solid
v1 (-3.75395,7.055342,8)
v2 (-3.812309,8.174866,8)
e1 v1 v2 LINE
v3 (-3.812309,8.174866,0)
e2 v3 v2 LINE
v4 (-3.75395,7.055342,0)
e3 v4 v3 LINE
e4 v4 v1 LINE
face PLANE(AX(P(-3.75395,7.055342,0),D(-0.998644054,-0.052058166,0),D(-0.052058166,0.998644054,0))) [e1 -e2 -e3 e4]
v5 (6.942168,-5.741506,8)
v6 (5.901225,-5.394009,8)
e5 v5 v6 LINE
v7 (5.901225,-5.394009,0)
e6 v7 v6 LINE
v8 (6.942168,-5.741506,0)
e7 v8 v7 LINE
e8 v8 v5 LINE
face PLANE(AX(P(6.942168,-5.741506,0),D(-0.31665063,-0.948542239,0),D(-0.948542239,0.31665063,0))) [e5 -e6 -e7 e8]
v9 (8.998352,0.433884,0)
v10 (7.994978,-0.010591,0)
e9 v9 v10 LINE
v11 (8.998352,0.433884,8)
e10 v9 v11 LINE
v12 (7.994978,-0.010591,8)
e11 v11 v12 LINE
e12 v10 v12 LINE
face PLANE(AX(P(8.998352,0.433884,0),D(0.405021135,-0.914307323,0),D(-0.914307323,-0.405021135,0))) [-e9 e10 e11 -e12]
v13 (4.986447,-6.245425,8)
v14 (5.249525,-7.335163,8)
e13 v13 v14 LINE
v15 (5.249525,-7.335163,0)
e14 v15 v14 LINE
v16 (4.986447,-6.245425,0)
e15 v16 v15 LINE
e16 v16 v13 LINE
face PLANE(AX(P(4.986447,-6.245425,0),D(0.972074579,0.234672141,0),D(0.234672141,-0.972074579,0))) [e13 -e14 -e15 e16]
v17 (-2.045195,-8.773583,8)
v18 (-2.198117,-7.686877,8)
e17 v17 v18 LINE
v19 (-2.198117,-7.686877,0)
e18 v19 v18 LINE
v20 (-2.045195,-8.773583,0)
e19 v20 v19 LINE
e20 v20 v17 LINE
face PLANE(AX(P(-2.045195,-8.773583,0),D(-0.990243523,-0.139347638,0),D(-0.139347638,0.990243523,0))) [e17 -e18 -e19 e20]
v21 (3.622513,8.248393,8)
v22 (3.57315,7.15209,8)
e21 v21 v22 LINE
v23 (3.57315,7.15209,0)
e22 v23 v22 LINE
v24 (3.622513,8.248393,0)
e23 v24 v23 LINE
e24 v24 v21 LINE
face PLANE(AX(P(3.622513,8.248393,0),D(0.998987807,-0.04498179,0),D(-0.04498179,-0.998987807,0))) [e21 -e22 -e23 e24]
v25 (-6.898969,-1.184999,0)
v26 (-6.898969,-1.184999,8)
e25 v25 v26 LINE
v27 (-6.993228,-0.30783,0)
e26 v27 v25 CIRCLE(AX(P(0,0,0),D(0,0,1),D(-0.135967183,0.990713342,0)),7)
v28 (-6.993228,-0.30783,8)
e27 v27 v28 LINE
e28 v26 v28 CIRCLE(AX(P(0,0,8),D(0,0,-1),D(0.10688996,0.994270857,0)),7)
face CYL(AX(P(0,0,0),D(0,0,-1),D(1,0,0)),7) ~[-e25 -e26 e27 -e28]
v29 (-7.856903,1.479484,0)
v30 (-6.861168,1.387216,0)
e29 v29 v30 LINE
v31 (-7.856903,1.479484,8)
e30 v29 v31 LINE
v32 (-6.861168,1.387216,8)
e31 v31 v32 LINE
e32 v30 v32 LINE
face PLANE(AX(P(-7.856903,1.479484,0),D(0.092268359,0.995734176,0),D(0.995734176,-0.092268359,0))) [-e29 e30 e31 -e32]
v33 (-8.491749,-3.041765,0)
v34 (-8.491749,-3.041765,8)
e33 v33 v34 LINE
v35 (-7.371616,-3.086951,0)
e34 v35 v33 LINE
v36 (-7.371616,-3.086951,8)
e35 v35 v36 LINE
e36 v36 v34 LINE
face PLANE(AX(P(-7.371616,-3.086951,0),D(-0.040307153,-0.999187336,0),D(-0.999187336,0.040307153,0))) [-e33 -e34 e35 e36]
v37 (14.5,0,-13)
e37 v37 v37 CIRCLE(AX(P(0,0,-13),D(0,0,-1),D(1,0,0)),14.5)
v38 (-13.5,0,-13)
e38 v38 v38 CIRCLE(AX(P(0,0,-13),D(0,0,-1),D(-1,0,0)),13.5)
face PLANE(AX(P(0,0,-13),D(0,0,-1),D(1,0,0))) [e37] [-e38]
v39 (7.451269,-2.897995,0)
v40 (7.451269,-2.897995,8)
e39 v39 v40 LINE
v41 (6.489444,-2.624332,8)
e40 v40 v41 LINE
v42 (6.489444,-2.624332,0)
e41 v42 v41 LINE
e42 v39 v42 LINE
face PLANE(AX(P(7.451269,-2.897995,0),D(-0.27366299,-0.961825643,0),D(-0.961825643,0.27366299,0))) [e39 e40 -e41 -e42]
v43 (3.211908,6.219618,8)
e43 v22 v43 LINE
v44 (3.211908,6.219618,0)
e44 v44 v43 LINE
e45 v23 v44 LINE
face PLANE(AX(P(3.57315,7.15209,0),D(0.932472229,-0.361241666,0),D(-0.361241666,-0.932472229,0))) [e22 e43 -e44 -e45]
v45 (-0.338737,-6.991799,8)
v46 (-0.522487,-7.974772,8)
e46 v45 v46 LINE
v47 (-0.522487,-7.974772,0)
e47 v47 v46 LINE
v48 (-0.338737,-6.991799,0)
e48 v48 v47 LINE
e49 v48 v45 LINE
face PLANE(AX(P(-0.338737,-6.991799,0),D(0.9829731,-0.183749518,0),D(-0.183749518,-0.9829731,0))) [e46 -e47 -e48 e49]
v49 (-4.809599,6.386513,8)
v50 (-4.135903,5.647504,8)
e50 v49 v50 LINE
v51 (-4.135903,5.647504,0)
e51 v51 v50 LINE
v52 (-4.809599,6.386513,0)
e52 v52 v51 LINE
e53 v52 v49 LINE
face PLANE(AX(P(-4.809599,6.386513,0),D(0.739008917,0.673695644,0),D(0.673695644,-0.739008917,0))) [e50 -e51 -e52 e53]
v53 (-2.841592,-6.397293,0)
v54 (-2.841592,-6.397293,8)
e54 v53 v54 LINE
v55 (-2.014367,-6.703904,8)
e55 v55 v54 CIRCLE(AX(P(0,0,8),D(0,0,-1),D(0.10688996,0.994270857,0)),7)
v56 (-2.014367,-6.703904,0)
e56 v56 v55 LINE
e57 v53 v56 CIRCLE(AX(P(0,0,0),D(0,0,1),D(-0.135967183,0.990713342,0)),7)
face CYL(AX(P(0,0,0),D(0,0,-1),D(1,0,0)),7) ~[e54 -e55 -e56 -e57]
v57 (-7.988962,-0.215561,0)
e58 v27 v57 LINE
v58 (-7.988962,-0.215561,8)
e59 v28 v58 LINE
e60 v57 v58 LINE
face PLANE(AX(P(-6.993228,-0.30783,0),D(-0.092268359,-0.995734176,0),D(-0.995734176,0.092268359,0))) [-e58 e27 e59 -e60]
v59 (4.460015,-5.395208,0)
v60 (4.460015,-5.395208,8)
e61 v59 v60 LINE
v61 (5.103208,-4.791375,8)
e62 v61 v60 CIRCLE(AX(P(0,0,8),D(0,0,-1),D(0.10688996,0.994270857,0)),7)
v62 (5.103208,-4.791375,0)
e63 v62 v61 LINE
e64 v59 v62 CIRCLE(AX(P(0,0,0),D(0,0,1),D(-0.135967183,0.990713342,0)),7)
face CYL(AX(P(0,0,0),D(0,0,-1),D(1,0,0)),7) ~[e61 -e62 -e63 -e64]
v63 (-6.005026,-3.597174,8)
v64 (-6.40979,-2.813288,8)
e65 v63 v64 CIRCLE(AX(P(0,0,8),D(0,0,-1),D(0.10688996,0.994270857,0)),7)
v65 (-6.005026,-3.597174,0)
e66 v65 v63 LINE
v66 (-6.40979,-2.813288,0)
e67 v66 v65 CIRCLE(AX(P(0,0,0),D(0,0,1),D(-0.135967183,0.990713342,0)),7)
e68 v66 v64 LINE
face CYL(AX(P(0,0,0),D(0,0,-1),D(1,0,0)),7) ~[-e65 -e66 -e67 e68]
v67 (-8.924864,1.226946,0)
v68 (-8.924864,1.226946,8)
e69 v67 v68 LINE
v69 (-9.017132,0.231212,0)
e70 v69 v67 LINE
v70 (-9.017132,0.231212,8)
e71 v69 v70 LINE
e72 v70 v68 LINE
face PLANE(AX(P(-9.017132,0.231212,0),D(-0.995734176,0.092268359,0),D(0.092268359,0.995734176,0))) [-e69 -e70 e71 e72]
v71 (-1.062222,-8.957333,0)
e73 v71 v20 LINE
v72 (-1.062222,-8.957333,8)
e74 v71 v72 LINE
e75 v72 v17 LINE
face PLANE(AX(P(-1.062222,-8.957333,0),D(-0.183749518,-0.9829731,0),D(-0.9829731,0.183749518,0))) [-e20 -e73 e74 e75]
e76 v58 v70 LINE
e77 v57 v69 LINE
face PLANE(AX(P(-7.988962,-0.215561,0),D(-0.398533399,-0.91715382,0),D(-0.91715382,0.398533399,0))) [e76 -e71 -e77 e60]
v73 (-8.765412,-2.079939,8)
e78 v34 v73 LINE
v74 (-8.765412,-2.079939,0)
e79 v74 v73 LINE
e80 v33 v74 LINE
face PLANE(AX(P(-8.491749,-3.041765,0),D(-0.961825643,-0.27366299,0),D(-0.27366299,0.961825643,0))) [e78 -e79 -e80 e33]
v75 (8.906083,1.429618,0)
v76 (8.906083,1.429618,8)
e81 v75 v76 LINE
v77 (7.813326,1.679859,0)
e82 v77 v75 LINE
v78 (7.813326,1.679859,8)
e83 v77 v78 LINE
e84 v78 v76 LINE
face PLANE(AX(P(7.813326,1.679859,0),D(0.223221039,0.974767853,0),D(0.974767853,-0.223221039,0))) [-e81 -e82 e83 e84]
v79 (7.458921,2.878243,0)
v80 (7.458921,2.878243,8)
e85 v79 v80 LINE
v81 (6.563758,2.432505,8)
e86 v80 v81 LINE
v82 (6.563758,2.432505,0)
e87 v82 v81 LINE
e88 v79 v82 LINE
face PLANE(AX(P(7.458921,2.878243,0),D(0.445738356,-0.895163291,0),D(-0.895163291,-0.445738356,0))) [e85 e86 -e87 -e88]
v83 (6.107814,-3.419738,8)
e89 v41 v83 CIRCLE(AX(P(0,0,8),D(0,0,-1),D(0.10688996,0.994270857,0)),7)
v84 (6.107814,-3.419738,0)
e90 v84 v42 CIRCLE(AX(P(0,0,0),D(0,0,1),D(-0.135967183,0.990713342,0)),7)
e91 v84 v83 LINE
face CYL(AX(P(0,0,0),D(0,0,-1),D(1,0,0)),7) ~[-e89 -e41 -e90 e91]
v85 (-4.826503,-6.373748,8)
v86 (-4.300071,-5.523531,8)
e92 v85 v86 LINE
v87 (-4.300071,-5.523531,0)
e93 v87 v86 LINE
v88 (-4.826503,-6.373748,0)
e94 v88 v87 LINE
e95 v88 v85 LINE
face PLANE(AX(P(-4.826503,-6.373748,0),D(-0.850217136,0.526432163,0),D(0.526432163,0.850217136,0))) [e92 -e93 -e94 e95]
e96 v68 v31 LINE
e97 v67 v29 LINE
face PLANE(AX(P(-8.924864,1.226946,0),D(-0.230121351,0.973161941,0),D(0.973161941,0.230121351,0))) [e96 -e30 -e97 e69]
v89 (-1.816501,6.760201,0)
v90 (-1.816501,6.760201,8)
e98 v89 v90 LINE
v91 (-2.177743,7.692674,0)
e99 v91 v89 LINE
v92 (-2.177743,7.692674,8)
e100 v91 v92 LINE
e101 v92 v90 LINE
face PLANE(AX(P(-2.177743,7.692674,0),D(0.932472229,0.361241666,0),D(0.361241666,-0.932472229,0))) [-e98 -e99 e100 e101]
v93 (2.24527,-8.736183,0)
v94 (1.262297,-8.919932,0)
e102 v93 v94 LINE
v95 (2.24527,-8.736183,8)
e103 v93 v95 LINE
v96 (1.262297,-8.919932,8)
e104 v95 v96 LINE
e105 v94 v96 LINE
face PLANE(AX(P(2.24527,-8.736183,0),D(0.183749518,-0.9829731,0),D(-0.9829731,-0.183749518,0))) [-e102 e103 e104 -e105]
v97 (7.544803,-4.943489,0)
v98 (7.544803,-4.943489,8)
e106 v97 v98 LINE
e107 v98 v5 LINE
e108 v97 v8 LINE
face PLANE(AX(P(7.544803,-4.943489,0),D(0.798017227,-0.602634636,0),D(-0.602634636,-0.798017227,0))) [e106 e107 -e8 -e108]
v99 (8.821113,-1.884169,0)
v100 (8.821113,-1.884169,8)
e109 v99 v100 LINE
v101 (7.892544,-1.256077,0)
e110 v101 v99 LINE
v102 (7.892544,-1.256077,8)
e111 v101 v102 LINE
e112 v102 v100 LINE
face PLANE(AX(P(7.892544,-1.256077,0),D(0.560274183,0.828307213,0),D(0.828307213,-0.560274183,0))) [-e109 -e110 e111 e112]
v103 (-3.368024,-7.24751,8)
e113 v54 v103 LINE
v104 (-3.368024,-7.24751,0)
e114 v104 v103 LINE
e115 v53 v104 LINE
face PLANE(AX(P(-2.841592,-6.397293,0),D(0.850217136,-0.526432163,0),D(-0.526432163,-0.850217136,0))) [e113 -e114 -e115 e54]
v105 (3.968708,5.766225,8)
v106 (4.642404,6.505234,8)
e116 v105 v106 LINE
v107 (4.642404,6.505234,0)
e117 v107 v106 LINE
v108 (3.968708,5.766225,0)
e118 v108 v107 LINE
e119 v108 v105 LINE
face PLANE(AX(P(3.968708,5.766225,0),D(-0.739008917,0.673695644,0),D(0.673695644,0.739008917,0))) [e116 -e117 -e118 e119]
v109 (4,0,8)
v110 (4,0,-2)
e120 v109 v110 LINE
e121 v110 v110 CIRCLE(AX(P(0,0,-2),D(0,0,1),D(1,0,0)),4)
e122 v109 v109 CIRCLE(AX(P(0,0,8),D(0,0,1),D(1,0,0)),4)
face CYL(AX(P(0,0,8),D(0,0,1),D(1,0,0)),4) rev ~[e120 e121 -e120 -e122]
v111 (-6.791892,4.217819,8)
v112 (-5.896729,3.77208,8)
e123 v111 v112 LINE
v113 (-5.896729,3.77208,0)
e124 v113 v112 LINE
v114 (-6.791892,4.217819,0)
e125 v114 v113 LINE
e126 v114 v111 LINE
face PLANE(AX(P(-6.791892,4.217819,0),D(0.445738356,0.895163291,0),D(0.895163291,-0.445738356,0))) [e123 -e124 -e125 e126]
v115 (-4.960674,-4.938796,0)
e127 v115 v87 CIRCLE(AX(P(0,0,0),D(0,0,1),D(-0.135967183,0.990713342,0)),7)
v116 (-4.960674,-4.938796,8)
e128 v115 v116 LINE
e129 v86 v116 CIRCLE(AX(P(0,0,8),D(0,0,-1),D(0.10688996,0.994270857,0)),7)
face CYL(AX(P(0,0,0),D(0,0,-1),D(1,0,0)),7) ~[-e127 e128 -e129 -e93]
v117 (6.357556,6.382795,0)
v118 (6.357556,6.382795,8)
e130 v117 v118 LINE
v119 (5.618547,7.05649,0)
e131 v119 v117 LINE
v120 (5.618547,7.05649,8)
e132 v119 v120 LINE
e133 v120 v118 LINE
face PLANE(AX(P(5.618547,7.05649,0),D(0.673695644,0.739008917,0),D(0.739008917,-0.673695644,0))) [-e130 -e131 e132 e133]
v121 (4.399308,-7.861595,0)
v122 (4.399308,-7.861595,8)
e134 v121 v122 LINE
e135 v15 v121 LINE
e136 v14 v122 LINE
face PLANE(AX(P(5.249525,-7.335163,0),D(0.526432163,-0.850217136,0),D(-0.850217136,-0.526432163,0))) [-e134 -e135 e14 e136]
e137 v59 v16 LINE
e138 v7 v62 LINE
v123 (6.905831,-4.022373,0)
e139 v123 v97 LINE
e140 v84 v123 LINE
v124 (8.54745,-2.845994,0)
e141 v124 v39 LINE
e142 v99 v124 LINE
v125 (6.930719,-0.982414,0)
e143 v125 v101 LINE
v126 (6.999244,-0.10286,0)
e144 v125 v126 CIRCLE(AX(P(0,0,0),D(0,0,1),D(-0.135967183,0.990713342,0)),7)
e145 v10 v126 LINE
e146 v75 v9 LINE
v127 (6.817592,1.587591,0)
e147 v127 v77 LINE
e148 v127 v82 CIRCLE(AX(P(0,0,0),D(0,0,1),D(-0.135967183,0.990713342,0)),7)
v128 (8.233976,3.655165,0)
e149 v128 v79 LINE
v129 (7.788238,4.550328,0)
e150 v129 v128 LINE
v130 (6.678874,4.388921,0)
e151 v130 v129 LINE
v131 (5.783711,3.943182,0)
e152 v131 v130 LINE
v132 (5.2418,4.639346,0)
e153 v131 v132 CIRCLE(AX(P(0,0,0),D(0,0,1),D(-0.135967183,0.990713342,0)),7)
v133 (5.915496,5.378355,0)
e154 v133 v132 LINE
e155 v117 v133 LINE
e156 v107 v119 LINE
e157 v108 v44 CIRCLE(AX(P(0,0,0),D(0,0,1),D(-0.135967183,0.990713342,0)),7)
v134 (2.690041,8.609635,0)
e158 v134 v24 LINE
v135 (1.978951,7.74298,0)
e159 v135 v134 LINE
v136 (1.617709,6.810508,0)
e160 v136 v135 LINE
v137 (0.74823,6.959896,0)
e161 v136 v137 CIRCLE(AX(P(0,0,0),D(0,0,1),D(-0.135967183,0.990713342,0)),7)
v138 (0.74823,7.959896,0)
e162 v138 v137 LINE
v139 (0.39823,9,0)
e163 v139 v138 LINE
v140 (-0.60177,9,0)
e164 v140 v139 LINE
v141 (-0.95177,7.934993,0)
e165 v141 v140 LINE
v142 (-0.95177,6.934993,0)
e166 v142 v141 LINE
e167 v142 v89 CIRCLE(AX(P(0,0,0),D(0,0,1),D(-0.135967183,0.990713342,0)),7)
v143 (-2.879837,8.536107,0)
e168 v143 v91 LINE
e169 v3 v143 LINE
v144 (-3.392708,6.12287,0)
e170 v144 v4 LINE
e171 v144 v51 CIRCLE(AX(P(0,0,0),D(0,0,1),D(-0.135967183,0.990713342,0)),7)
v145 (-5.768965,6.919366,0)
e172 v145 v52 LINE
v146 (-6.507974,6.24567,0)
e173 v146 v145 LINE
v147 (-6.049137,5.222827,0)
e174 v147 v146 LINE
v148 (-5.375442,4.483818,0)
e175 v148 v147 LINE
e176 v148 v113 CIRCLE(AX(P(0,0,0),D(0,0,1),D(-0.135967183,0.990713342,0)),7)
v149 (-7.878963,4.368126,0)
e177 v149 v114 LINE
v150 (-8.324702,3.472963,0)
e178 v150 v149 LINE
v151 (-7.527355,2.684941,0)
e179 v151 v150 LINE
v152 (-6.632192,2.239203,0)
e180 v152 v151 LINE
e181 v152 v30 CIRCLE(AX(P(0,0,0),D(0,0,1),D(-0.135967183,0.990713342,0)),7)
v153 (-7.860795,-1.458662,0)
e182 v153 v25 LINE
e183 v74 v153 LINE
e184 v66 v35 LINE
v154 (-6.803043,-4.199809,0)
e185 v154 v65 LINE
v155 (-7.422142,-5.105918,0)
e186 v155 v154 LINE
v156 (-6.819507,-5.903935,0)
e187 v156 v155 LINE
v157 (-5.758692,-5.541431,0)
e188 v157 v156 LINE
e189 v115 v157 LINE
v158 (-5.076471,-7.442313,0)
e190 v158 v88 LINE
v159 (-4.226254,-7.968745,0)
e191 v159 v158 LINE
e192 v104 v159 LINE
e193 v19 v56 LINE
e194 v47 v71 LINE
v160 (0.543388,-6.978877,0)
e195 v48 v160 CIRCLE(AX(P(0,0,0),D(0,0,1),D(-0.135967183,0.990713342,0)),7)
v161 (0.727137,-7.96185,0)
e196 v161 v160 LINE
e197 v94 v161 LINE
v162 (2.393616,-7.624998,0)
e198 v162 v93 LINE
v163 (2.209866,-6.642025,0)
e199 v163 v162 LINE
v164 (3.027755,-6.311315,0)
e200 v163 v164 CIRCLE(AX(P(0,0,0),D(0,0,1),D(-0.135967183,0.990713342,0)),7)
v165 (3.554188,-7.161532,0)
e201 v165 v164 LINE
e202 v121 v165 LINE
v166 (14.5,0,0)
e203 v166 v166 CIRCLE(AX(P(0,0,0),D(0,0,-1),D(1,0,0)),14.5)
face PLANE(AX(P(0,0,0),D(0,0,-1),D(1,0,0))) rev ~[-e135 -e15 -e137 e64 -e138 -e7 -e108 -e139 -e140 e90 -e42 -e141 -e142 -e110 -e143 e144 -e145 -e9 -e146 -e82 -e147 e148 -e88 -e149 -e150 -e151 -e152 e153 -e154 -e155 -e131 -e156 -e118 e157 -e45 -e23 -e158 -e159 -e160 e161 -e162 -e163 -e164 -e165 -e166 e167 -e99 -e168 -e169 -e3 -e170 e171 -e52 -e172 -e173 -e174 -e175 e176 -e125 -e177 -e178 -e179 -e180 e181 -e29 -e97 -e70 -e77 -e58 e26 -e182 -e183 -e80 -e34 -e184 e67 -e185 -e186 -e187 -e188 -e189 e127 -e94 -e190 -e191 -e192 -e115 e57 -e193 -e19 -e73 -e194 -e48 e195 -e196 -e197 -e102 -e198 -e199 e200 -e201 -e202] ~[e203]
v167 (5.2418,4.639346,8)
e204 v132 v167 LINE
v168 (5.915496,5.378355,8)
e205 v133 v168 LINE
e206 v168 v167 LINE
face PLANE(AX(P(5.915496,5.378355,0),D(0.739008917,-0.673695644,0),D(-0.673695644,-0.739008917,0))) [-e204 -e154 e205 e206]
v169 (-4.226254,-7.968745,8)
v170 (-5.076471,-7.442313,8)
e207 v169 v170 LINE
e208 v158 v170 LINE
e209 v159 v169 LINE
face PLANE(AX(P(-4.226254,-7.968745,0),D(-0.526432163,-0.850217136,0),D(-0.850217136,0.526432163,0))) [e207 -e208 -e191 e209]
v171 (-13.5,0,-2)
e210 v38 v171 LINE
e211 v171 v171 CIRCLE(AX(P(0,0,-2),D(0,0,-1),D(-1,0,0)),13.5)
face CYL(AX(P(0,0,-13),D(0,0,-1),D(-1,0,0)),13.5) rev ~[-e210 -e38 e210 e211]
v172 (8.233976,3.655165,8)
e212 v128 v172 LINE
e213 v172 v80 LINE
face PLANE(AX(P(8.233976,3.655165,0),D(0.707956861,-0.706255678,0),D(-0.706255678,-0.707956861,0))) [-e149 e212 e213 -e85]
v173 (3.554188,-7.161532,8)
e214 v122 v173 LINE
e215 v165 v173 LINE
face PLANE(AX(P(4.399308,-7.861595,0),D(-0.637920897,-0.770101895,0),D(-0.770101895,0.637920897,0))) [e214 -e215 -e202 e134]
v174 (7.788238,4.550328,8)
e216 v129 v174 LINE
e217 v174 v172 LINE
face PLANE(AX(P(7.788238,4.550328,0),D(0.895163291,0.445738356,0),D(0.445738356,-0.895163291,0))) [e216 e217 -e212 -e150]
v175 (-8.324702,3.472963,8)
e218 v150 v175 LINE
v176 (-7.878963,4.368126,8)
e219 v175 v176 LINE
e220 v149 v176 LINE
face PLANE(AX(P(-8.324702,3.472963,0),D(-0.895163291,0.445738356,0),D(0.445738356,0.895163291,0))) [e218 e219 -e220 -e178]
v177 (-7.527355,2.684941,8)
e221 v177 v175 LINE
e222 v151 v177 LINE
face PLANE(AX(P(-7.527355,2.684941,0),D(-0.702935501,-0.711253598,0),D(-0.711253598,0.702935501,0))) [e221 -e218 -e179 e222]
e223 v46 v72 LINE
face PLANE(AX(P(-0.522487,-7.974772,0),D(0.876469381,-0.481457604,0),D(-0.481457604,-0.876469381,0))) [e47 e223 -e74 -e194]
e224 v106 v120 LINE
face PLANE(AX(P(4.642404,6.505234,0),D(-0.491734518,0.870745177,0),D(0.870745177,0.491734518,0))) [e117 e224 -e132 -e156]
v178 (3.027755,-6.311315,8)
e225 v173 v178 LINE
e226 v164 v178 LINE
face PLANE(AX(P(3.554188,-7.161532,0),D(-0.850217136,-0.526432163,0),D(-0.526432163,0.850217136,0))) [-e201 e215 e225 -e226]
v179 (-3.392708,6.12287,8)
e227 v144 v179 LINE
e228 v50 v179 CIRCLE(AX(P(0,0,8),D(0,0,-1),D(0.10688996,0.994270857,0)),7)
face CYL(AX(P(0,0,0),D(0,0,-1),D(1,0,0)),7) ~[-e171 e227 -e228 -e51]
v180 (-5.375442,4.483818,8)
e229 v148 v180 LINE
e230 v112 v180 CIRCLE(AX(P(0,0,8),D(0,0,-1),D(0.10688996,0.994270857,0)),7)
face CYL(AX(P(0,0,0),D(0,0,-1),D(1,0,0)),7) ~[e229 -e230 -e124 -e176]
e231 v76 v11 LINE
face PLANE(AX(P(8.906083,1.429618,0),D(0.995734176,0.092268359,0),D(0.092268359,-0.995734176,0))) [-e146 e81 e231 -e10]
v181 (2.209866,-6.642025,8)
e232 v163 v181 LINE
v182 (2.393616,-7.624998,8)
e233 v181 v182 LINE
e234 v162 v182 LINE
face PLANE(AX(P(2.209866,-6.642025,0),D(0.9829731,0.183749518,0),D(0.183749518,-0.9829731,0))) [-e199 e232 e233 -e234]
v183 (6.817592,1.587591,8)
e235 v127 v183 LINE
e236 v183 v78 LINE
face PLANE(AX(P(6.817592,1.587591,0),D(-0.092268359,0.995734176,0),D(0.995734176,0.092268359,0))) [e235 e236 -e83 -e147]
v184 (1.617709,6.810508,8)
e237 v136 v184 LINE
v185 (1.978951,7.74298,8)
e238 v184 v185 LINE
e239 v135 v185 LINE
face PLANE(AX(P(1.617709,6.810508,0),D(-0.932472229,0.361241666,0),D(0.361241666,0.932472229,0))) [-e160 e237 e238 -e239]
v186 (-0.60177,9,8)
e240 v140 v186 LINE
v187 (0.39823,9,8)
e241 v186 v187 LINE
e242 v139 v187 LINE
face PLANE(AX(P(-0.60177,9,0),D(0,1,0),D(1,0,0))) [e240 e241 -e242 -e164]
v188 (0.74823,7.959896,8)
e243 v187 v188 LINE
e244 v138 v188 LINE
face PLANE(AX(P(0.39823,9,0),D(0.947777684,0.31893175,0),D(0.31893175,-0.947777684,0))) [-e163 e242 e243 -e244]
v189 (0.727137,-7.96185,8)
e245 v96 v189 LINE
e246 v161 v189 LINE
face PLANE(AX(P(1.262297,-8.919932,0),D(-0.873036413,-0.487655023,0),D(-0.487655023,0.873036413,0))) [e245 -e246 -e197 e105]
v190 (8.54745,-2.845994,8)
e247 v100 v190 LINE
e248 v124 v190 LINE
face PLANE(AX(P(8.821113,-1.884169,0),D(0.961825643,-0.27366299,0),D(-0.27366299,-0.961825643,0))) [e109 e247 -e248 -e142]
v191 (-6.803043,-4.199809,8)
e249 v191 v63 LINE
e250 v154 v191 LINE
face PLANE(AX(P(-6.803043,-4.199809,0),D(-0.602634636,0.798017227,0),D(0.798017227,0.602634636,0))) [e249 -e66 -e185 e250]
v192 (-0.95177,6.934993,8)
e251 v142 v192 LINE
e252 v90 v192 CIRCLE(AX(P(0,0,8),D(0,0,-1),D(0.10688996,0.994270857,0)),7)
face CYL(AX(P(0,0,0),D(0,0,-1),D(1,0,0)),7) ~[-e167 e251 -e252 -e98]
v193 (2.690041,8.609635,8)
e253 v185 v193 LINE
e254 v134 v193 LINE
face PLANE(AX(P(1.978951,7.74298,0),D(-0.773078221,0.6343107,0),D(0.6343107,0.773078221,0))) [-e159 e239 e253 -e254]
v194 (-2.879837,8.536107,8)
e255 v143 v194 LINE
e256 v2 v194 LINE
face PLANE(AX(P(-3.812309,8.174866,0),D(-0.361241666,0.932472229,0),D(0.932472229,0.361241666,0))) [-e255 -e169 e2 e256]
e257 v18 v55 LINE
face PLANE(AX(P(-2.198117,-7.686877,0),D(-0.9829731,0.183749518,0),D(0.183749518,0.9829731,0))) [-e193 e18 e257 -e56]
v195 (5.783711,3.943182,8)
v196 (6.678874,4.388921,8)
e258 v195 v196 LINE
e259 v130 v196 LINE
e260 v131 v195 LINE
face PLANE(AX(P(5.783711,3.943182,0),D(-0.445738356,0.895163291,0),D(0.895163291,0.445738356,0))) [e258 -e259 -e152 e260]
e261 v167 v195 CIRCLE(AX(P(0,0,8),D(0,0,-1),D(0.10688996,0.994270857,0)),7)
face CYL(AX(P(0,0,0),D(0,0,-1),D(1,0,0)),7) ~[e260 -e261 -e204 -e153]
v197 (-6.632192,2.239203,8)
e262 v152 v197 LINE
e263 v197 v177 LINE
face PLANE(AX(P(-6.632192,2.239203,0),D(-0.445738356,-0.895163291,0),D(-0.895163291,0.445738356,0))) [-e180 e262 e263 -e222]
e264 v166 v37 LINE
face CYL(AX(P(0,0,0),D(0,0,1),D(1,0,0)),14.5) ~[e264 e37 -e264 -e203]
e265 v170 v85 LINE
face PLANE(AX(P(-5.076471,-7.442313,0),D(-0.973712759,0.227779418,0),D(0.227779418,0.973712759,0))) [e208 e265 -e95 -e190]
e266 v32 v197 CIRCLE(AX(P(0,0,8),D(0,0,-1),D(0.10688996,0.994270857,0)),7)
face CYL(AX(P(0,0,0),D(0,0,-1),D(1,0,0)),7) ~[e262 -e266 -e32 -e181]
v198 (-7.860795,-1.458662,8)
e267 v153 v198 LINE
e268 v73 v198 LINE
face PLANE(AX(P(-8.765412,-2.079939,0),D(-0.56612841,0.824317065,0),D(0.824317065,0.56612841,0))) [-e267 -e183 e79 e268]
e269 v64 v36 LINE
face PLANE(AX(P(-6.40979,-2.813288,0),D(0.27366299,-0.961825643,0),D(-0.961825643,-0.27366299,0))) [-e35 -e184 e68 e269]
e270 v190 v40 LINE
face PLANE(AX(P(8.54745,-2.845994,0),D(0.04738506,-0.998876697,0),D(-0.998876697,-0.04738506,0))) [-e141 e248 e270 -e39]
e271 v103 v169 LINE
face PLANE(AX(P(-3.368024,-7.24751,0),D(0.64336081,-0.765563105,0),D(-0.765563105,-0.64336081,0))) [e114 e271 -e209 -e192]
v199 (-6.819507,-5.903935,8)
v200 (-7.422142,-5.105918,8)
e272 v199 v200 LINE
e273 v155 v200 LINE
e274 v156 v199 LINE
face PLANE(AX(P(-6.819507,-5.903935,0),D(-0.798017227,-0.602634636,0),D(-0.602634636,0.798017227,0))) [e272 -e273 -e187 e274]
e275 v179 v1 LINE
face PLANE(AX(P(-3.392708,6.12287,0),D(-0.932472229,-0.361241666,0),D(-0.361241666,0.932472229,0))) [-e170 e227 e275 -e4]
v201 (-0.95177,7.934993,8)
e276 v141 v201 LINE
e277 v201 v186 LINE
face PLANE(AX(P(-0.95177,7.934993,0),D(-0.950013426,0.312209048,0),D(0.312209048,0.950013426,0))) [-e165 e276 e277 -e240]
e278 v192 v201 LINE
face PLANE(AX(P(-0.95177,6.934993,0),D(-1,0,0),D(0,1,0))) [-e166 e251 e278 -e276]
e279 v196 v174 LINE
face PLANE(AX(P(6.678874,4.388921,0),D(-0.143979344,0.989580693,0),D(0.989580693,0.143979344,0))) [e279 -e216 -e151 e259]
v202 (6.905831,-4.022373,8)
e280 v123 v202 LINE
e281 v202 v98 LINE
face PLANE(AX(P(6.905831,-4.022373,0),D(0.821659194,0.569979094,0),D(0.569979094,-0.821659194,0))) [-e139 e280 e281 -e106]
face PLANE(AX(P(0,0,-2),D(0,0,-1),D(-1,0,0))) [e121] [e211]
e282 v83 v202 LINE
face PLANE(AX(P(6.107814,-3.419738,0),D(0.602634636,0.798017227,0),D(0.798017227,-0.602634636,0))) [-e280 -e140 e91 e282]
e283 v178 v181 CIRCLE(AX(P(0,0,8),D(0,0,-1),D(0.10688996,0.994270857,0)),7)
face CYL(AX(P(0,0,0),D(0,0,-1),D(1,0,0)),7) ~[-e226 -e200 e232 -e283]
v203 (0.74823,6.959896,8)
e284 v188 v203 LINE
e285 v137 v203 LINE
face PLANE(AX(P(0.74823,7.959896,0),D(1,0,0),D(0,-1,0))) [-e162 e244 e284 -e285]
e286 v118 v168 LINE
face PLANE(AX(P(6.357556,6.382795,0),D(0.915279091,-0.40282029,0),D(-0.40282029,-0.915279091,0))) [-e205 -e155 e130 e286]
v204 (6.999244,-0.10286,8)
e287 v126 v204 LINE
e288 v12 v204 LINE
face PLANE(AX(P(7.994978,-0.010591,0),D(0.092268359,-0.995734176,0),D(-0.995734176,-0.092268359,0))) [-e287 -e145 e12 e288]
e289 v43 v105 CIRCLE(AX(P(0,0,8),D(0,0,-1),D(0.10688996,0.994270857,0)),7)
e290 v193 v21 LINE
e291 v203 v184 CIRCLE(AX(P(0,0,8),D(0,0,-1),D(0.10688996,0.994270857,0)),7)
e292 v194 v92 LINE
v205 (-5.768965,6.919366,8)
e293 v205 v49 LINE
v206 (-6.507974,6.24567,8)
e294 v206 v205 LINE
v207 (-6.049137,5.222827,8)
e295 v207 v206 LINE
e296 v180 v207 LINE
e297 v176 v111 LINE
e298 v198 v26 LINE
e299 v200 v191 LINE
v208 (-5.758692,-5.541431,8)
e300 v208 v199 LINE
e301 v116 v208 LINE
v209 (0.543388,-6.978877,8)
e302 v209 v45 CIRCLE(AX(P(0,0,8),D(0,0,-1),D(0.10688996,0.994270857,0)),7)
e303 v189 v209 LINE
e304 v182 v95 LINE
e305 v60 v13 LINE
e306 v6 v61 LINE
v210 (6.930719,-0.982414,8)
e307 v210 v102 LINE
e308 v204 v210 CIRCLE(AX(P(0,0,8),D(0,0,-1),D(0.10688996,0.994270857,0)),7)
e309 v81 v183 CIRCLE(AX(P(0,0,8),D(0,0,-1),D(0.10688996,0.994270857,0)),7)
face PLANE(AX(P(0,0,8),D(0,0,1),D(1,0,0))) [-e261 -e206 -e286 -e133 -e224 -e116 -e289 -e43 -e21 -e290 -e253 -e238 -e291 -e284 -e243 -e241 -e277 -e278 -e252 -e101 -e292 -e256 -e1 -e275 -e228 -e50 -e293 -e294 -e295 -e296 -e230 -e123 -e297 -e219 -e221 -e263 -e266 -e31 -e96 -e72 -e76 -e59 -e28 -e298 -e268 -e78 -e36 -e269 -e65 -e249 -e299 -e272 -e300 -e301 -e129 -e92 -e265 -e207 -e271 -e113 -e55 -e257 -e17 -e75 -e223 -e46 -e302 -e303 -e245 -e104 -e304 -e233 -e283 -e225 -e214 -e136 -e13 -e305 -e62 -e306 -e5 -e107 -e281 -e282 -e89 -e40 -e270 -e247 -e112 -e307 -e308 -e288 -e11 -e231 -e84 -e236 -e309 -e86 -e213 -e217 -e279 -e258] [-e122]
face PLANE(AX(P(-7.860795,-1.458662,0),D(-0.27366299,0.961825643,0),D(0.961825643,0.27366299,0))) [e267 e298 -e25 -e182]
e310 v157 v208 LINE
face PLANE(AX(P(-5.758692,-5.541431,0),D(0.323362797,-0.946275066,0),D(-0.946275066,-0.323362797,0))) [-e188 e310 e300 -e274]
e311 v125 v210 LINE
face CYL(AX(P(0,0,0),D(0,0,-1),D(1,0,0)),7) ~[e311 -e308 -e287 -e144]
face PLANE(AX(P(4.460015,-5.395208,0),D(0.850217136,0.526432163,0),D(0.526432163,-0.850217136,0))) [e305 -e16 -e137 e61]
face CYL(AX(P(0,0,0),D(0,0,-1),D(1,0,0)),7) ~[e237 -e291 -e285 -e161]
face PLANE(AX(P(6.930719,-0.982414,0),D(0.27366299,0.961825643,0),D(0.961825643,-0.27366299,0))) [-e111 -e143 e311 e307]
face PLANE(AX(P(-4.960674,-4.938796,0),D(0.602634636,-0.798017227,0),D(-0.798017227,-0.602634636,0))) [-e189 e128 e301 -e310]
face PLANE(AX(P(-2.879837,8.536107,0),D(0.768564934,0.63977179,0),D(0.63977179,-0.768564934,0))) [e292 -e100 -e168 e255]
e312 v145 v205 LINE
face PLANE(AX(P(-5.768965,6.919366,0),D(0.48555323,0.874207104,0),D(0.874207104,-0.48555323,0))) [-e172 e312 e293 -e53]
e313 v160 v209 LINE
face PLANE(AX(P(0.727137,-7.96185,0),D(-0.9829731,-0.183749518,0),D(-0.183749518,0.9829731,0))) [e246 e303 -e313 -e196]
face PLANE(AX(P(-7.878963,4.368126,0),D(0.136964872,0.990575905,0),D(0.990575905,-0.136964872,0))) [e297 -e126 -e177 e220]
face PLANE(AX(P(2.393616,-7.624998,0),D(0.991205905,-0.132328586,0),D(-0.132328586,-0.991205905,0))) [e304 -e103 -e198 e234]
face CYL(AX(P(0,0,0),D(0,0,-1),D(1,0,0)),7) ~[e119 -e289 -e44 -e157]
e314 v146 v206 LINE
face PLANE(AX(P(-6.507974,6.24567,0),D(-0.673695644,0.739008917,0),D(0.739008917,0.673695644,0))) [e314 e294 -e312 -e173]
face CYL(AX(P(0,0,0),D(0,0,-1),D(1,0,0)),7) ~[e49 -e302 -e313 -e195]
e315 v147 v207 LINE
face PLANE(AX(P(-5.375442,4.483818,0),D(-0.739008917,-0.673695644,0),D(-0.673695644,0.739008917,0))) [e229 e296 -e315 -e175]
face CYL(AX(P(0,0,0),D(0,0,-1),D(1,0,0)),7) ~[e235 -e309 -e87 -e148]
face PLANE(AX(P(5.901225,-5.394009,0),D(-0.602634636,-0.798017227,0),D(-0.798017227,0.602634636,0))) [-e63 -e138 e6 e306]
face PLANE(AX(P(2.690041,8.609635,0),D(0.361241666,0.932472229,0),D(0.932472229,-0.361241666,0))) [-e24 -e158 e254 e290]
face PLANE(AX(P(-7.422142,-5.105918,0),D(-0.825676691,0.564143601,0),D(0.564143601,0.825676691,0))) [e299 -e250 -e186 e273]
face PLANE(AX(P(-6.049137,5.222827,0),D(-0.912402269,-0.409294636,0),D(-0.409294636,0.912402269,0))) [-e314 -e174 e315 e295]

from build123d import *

# Parameters (mm, degrees)
SKETCH2_R           = 7
BOSS_EXTRUDE1_DEPTH = 8
BOSS_EXTRUDE2_DEPTH = 8
CIRPATTERN1_COUNT   = 17
SKETCH5_R           = 14.5
BOSS_EXTRUDE3_DEPTH = 13
SKETCH6_R           = 13.5
CUT_EXTRUDE1_DEPTH  = 11
SKETCH7_R           = 4
CUT_EXTRUDE2_DEPTH  = 11


with BuildPart() as part:
    # Sketch2 → Boss-Extrude1 (new body)
    with BuildSketch(Plane.XY):
        Circle(SKETCH2_R)
    extrude(amount=BOSS_EXTRUDE1_DEPTH)

    # Sketch4 → Boss-Extrude2 (add)
    with BuildSketch(Plane.XY):
        with BuildLine():
            Line((-0.95177028, 6.934993391), (-0.95177028, 7.934993391))
            Line((-0.95177028, 7.934993391), (-0.60177028, 9))
            Line((-0.60177028, 9), (0.39822972, 9))
            Line((0.39822972, 9), (0.74822972, 7.959895997))
            Line((0.74822972, 7.959895997), (0.74822972, 6.959895997))
            ThreePointArc((0.74822972, 6.959895997), (-0.102529141, 6.999249087), (-0.95177028, 6.934993391))
        make_face()
    boss_extrude2 = extrude(amount=BOSS_EXTRUDE2_DEPTH)

    # CirPattern1: Boss-Extrude2 ×17 about axis
    cirpattern1_axis = Axis((0, 0, 0), (0, 0, 1))
    for i in range(1, CIRPATTERN1_COUNT):
        add(boss_extrude2.rotate(cirpattern1_axis, i * 360 / CIRPATTERN1_COUNT))

    # Sketch5 → Boss-Extrude3 (add)
    with BuildSketch(Plane(origin=(0, 0, 0), x_dir=(-1, 0, 0), z_dir=(0, 0, -1))):
        with Locations(Location((0, 0, 0), (0, 0, 180))):
            Circle(SKETCH5_R)
    extrude(amount=BOSS_EXTRUDE3_DEPTH)

    # Sketch6 → Cut-Extrude1 (cut)
    with BuildSketch(Plane(origin=(0, 0, -13), x_dir=(-1, 0, 0), z_dir=(0, 0, -1))):
        Circle(SKETCH6_R)
    extrude(amount=-CUT_EXTRUDE1_DEPTH, mode=Mode.SUBTRACT)

    # Sketch7 → Cut-Extrude2 (cut)
    with BuildSketch(Plane.XY.offset(8)):
        Circle(SKETCH7_R)
    extrude(amount=-CUT_EXTRUDE2_DEPTH, mode=Mode.SUBTRACT)


solid = part.part
